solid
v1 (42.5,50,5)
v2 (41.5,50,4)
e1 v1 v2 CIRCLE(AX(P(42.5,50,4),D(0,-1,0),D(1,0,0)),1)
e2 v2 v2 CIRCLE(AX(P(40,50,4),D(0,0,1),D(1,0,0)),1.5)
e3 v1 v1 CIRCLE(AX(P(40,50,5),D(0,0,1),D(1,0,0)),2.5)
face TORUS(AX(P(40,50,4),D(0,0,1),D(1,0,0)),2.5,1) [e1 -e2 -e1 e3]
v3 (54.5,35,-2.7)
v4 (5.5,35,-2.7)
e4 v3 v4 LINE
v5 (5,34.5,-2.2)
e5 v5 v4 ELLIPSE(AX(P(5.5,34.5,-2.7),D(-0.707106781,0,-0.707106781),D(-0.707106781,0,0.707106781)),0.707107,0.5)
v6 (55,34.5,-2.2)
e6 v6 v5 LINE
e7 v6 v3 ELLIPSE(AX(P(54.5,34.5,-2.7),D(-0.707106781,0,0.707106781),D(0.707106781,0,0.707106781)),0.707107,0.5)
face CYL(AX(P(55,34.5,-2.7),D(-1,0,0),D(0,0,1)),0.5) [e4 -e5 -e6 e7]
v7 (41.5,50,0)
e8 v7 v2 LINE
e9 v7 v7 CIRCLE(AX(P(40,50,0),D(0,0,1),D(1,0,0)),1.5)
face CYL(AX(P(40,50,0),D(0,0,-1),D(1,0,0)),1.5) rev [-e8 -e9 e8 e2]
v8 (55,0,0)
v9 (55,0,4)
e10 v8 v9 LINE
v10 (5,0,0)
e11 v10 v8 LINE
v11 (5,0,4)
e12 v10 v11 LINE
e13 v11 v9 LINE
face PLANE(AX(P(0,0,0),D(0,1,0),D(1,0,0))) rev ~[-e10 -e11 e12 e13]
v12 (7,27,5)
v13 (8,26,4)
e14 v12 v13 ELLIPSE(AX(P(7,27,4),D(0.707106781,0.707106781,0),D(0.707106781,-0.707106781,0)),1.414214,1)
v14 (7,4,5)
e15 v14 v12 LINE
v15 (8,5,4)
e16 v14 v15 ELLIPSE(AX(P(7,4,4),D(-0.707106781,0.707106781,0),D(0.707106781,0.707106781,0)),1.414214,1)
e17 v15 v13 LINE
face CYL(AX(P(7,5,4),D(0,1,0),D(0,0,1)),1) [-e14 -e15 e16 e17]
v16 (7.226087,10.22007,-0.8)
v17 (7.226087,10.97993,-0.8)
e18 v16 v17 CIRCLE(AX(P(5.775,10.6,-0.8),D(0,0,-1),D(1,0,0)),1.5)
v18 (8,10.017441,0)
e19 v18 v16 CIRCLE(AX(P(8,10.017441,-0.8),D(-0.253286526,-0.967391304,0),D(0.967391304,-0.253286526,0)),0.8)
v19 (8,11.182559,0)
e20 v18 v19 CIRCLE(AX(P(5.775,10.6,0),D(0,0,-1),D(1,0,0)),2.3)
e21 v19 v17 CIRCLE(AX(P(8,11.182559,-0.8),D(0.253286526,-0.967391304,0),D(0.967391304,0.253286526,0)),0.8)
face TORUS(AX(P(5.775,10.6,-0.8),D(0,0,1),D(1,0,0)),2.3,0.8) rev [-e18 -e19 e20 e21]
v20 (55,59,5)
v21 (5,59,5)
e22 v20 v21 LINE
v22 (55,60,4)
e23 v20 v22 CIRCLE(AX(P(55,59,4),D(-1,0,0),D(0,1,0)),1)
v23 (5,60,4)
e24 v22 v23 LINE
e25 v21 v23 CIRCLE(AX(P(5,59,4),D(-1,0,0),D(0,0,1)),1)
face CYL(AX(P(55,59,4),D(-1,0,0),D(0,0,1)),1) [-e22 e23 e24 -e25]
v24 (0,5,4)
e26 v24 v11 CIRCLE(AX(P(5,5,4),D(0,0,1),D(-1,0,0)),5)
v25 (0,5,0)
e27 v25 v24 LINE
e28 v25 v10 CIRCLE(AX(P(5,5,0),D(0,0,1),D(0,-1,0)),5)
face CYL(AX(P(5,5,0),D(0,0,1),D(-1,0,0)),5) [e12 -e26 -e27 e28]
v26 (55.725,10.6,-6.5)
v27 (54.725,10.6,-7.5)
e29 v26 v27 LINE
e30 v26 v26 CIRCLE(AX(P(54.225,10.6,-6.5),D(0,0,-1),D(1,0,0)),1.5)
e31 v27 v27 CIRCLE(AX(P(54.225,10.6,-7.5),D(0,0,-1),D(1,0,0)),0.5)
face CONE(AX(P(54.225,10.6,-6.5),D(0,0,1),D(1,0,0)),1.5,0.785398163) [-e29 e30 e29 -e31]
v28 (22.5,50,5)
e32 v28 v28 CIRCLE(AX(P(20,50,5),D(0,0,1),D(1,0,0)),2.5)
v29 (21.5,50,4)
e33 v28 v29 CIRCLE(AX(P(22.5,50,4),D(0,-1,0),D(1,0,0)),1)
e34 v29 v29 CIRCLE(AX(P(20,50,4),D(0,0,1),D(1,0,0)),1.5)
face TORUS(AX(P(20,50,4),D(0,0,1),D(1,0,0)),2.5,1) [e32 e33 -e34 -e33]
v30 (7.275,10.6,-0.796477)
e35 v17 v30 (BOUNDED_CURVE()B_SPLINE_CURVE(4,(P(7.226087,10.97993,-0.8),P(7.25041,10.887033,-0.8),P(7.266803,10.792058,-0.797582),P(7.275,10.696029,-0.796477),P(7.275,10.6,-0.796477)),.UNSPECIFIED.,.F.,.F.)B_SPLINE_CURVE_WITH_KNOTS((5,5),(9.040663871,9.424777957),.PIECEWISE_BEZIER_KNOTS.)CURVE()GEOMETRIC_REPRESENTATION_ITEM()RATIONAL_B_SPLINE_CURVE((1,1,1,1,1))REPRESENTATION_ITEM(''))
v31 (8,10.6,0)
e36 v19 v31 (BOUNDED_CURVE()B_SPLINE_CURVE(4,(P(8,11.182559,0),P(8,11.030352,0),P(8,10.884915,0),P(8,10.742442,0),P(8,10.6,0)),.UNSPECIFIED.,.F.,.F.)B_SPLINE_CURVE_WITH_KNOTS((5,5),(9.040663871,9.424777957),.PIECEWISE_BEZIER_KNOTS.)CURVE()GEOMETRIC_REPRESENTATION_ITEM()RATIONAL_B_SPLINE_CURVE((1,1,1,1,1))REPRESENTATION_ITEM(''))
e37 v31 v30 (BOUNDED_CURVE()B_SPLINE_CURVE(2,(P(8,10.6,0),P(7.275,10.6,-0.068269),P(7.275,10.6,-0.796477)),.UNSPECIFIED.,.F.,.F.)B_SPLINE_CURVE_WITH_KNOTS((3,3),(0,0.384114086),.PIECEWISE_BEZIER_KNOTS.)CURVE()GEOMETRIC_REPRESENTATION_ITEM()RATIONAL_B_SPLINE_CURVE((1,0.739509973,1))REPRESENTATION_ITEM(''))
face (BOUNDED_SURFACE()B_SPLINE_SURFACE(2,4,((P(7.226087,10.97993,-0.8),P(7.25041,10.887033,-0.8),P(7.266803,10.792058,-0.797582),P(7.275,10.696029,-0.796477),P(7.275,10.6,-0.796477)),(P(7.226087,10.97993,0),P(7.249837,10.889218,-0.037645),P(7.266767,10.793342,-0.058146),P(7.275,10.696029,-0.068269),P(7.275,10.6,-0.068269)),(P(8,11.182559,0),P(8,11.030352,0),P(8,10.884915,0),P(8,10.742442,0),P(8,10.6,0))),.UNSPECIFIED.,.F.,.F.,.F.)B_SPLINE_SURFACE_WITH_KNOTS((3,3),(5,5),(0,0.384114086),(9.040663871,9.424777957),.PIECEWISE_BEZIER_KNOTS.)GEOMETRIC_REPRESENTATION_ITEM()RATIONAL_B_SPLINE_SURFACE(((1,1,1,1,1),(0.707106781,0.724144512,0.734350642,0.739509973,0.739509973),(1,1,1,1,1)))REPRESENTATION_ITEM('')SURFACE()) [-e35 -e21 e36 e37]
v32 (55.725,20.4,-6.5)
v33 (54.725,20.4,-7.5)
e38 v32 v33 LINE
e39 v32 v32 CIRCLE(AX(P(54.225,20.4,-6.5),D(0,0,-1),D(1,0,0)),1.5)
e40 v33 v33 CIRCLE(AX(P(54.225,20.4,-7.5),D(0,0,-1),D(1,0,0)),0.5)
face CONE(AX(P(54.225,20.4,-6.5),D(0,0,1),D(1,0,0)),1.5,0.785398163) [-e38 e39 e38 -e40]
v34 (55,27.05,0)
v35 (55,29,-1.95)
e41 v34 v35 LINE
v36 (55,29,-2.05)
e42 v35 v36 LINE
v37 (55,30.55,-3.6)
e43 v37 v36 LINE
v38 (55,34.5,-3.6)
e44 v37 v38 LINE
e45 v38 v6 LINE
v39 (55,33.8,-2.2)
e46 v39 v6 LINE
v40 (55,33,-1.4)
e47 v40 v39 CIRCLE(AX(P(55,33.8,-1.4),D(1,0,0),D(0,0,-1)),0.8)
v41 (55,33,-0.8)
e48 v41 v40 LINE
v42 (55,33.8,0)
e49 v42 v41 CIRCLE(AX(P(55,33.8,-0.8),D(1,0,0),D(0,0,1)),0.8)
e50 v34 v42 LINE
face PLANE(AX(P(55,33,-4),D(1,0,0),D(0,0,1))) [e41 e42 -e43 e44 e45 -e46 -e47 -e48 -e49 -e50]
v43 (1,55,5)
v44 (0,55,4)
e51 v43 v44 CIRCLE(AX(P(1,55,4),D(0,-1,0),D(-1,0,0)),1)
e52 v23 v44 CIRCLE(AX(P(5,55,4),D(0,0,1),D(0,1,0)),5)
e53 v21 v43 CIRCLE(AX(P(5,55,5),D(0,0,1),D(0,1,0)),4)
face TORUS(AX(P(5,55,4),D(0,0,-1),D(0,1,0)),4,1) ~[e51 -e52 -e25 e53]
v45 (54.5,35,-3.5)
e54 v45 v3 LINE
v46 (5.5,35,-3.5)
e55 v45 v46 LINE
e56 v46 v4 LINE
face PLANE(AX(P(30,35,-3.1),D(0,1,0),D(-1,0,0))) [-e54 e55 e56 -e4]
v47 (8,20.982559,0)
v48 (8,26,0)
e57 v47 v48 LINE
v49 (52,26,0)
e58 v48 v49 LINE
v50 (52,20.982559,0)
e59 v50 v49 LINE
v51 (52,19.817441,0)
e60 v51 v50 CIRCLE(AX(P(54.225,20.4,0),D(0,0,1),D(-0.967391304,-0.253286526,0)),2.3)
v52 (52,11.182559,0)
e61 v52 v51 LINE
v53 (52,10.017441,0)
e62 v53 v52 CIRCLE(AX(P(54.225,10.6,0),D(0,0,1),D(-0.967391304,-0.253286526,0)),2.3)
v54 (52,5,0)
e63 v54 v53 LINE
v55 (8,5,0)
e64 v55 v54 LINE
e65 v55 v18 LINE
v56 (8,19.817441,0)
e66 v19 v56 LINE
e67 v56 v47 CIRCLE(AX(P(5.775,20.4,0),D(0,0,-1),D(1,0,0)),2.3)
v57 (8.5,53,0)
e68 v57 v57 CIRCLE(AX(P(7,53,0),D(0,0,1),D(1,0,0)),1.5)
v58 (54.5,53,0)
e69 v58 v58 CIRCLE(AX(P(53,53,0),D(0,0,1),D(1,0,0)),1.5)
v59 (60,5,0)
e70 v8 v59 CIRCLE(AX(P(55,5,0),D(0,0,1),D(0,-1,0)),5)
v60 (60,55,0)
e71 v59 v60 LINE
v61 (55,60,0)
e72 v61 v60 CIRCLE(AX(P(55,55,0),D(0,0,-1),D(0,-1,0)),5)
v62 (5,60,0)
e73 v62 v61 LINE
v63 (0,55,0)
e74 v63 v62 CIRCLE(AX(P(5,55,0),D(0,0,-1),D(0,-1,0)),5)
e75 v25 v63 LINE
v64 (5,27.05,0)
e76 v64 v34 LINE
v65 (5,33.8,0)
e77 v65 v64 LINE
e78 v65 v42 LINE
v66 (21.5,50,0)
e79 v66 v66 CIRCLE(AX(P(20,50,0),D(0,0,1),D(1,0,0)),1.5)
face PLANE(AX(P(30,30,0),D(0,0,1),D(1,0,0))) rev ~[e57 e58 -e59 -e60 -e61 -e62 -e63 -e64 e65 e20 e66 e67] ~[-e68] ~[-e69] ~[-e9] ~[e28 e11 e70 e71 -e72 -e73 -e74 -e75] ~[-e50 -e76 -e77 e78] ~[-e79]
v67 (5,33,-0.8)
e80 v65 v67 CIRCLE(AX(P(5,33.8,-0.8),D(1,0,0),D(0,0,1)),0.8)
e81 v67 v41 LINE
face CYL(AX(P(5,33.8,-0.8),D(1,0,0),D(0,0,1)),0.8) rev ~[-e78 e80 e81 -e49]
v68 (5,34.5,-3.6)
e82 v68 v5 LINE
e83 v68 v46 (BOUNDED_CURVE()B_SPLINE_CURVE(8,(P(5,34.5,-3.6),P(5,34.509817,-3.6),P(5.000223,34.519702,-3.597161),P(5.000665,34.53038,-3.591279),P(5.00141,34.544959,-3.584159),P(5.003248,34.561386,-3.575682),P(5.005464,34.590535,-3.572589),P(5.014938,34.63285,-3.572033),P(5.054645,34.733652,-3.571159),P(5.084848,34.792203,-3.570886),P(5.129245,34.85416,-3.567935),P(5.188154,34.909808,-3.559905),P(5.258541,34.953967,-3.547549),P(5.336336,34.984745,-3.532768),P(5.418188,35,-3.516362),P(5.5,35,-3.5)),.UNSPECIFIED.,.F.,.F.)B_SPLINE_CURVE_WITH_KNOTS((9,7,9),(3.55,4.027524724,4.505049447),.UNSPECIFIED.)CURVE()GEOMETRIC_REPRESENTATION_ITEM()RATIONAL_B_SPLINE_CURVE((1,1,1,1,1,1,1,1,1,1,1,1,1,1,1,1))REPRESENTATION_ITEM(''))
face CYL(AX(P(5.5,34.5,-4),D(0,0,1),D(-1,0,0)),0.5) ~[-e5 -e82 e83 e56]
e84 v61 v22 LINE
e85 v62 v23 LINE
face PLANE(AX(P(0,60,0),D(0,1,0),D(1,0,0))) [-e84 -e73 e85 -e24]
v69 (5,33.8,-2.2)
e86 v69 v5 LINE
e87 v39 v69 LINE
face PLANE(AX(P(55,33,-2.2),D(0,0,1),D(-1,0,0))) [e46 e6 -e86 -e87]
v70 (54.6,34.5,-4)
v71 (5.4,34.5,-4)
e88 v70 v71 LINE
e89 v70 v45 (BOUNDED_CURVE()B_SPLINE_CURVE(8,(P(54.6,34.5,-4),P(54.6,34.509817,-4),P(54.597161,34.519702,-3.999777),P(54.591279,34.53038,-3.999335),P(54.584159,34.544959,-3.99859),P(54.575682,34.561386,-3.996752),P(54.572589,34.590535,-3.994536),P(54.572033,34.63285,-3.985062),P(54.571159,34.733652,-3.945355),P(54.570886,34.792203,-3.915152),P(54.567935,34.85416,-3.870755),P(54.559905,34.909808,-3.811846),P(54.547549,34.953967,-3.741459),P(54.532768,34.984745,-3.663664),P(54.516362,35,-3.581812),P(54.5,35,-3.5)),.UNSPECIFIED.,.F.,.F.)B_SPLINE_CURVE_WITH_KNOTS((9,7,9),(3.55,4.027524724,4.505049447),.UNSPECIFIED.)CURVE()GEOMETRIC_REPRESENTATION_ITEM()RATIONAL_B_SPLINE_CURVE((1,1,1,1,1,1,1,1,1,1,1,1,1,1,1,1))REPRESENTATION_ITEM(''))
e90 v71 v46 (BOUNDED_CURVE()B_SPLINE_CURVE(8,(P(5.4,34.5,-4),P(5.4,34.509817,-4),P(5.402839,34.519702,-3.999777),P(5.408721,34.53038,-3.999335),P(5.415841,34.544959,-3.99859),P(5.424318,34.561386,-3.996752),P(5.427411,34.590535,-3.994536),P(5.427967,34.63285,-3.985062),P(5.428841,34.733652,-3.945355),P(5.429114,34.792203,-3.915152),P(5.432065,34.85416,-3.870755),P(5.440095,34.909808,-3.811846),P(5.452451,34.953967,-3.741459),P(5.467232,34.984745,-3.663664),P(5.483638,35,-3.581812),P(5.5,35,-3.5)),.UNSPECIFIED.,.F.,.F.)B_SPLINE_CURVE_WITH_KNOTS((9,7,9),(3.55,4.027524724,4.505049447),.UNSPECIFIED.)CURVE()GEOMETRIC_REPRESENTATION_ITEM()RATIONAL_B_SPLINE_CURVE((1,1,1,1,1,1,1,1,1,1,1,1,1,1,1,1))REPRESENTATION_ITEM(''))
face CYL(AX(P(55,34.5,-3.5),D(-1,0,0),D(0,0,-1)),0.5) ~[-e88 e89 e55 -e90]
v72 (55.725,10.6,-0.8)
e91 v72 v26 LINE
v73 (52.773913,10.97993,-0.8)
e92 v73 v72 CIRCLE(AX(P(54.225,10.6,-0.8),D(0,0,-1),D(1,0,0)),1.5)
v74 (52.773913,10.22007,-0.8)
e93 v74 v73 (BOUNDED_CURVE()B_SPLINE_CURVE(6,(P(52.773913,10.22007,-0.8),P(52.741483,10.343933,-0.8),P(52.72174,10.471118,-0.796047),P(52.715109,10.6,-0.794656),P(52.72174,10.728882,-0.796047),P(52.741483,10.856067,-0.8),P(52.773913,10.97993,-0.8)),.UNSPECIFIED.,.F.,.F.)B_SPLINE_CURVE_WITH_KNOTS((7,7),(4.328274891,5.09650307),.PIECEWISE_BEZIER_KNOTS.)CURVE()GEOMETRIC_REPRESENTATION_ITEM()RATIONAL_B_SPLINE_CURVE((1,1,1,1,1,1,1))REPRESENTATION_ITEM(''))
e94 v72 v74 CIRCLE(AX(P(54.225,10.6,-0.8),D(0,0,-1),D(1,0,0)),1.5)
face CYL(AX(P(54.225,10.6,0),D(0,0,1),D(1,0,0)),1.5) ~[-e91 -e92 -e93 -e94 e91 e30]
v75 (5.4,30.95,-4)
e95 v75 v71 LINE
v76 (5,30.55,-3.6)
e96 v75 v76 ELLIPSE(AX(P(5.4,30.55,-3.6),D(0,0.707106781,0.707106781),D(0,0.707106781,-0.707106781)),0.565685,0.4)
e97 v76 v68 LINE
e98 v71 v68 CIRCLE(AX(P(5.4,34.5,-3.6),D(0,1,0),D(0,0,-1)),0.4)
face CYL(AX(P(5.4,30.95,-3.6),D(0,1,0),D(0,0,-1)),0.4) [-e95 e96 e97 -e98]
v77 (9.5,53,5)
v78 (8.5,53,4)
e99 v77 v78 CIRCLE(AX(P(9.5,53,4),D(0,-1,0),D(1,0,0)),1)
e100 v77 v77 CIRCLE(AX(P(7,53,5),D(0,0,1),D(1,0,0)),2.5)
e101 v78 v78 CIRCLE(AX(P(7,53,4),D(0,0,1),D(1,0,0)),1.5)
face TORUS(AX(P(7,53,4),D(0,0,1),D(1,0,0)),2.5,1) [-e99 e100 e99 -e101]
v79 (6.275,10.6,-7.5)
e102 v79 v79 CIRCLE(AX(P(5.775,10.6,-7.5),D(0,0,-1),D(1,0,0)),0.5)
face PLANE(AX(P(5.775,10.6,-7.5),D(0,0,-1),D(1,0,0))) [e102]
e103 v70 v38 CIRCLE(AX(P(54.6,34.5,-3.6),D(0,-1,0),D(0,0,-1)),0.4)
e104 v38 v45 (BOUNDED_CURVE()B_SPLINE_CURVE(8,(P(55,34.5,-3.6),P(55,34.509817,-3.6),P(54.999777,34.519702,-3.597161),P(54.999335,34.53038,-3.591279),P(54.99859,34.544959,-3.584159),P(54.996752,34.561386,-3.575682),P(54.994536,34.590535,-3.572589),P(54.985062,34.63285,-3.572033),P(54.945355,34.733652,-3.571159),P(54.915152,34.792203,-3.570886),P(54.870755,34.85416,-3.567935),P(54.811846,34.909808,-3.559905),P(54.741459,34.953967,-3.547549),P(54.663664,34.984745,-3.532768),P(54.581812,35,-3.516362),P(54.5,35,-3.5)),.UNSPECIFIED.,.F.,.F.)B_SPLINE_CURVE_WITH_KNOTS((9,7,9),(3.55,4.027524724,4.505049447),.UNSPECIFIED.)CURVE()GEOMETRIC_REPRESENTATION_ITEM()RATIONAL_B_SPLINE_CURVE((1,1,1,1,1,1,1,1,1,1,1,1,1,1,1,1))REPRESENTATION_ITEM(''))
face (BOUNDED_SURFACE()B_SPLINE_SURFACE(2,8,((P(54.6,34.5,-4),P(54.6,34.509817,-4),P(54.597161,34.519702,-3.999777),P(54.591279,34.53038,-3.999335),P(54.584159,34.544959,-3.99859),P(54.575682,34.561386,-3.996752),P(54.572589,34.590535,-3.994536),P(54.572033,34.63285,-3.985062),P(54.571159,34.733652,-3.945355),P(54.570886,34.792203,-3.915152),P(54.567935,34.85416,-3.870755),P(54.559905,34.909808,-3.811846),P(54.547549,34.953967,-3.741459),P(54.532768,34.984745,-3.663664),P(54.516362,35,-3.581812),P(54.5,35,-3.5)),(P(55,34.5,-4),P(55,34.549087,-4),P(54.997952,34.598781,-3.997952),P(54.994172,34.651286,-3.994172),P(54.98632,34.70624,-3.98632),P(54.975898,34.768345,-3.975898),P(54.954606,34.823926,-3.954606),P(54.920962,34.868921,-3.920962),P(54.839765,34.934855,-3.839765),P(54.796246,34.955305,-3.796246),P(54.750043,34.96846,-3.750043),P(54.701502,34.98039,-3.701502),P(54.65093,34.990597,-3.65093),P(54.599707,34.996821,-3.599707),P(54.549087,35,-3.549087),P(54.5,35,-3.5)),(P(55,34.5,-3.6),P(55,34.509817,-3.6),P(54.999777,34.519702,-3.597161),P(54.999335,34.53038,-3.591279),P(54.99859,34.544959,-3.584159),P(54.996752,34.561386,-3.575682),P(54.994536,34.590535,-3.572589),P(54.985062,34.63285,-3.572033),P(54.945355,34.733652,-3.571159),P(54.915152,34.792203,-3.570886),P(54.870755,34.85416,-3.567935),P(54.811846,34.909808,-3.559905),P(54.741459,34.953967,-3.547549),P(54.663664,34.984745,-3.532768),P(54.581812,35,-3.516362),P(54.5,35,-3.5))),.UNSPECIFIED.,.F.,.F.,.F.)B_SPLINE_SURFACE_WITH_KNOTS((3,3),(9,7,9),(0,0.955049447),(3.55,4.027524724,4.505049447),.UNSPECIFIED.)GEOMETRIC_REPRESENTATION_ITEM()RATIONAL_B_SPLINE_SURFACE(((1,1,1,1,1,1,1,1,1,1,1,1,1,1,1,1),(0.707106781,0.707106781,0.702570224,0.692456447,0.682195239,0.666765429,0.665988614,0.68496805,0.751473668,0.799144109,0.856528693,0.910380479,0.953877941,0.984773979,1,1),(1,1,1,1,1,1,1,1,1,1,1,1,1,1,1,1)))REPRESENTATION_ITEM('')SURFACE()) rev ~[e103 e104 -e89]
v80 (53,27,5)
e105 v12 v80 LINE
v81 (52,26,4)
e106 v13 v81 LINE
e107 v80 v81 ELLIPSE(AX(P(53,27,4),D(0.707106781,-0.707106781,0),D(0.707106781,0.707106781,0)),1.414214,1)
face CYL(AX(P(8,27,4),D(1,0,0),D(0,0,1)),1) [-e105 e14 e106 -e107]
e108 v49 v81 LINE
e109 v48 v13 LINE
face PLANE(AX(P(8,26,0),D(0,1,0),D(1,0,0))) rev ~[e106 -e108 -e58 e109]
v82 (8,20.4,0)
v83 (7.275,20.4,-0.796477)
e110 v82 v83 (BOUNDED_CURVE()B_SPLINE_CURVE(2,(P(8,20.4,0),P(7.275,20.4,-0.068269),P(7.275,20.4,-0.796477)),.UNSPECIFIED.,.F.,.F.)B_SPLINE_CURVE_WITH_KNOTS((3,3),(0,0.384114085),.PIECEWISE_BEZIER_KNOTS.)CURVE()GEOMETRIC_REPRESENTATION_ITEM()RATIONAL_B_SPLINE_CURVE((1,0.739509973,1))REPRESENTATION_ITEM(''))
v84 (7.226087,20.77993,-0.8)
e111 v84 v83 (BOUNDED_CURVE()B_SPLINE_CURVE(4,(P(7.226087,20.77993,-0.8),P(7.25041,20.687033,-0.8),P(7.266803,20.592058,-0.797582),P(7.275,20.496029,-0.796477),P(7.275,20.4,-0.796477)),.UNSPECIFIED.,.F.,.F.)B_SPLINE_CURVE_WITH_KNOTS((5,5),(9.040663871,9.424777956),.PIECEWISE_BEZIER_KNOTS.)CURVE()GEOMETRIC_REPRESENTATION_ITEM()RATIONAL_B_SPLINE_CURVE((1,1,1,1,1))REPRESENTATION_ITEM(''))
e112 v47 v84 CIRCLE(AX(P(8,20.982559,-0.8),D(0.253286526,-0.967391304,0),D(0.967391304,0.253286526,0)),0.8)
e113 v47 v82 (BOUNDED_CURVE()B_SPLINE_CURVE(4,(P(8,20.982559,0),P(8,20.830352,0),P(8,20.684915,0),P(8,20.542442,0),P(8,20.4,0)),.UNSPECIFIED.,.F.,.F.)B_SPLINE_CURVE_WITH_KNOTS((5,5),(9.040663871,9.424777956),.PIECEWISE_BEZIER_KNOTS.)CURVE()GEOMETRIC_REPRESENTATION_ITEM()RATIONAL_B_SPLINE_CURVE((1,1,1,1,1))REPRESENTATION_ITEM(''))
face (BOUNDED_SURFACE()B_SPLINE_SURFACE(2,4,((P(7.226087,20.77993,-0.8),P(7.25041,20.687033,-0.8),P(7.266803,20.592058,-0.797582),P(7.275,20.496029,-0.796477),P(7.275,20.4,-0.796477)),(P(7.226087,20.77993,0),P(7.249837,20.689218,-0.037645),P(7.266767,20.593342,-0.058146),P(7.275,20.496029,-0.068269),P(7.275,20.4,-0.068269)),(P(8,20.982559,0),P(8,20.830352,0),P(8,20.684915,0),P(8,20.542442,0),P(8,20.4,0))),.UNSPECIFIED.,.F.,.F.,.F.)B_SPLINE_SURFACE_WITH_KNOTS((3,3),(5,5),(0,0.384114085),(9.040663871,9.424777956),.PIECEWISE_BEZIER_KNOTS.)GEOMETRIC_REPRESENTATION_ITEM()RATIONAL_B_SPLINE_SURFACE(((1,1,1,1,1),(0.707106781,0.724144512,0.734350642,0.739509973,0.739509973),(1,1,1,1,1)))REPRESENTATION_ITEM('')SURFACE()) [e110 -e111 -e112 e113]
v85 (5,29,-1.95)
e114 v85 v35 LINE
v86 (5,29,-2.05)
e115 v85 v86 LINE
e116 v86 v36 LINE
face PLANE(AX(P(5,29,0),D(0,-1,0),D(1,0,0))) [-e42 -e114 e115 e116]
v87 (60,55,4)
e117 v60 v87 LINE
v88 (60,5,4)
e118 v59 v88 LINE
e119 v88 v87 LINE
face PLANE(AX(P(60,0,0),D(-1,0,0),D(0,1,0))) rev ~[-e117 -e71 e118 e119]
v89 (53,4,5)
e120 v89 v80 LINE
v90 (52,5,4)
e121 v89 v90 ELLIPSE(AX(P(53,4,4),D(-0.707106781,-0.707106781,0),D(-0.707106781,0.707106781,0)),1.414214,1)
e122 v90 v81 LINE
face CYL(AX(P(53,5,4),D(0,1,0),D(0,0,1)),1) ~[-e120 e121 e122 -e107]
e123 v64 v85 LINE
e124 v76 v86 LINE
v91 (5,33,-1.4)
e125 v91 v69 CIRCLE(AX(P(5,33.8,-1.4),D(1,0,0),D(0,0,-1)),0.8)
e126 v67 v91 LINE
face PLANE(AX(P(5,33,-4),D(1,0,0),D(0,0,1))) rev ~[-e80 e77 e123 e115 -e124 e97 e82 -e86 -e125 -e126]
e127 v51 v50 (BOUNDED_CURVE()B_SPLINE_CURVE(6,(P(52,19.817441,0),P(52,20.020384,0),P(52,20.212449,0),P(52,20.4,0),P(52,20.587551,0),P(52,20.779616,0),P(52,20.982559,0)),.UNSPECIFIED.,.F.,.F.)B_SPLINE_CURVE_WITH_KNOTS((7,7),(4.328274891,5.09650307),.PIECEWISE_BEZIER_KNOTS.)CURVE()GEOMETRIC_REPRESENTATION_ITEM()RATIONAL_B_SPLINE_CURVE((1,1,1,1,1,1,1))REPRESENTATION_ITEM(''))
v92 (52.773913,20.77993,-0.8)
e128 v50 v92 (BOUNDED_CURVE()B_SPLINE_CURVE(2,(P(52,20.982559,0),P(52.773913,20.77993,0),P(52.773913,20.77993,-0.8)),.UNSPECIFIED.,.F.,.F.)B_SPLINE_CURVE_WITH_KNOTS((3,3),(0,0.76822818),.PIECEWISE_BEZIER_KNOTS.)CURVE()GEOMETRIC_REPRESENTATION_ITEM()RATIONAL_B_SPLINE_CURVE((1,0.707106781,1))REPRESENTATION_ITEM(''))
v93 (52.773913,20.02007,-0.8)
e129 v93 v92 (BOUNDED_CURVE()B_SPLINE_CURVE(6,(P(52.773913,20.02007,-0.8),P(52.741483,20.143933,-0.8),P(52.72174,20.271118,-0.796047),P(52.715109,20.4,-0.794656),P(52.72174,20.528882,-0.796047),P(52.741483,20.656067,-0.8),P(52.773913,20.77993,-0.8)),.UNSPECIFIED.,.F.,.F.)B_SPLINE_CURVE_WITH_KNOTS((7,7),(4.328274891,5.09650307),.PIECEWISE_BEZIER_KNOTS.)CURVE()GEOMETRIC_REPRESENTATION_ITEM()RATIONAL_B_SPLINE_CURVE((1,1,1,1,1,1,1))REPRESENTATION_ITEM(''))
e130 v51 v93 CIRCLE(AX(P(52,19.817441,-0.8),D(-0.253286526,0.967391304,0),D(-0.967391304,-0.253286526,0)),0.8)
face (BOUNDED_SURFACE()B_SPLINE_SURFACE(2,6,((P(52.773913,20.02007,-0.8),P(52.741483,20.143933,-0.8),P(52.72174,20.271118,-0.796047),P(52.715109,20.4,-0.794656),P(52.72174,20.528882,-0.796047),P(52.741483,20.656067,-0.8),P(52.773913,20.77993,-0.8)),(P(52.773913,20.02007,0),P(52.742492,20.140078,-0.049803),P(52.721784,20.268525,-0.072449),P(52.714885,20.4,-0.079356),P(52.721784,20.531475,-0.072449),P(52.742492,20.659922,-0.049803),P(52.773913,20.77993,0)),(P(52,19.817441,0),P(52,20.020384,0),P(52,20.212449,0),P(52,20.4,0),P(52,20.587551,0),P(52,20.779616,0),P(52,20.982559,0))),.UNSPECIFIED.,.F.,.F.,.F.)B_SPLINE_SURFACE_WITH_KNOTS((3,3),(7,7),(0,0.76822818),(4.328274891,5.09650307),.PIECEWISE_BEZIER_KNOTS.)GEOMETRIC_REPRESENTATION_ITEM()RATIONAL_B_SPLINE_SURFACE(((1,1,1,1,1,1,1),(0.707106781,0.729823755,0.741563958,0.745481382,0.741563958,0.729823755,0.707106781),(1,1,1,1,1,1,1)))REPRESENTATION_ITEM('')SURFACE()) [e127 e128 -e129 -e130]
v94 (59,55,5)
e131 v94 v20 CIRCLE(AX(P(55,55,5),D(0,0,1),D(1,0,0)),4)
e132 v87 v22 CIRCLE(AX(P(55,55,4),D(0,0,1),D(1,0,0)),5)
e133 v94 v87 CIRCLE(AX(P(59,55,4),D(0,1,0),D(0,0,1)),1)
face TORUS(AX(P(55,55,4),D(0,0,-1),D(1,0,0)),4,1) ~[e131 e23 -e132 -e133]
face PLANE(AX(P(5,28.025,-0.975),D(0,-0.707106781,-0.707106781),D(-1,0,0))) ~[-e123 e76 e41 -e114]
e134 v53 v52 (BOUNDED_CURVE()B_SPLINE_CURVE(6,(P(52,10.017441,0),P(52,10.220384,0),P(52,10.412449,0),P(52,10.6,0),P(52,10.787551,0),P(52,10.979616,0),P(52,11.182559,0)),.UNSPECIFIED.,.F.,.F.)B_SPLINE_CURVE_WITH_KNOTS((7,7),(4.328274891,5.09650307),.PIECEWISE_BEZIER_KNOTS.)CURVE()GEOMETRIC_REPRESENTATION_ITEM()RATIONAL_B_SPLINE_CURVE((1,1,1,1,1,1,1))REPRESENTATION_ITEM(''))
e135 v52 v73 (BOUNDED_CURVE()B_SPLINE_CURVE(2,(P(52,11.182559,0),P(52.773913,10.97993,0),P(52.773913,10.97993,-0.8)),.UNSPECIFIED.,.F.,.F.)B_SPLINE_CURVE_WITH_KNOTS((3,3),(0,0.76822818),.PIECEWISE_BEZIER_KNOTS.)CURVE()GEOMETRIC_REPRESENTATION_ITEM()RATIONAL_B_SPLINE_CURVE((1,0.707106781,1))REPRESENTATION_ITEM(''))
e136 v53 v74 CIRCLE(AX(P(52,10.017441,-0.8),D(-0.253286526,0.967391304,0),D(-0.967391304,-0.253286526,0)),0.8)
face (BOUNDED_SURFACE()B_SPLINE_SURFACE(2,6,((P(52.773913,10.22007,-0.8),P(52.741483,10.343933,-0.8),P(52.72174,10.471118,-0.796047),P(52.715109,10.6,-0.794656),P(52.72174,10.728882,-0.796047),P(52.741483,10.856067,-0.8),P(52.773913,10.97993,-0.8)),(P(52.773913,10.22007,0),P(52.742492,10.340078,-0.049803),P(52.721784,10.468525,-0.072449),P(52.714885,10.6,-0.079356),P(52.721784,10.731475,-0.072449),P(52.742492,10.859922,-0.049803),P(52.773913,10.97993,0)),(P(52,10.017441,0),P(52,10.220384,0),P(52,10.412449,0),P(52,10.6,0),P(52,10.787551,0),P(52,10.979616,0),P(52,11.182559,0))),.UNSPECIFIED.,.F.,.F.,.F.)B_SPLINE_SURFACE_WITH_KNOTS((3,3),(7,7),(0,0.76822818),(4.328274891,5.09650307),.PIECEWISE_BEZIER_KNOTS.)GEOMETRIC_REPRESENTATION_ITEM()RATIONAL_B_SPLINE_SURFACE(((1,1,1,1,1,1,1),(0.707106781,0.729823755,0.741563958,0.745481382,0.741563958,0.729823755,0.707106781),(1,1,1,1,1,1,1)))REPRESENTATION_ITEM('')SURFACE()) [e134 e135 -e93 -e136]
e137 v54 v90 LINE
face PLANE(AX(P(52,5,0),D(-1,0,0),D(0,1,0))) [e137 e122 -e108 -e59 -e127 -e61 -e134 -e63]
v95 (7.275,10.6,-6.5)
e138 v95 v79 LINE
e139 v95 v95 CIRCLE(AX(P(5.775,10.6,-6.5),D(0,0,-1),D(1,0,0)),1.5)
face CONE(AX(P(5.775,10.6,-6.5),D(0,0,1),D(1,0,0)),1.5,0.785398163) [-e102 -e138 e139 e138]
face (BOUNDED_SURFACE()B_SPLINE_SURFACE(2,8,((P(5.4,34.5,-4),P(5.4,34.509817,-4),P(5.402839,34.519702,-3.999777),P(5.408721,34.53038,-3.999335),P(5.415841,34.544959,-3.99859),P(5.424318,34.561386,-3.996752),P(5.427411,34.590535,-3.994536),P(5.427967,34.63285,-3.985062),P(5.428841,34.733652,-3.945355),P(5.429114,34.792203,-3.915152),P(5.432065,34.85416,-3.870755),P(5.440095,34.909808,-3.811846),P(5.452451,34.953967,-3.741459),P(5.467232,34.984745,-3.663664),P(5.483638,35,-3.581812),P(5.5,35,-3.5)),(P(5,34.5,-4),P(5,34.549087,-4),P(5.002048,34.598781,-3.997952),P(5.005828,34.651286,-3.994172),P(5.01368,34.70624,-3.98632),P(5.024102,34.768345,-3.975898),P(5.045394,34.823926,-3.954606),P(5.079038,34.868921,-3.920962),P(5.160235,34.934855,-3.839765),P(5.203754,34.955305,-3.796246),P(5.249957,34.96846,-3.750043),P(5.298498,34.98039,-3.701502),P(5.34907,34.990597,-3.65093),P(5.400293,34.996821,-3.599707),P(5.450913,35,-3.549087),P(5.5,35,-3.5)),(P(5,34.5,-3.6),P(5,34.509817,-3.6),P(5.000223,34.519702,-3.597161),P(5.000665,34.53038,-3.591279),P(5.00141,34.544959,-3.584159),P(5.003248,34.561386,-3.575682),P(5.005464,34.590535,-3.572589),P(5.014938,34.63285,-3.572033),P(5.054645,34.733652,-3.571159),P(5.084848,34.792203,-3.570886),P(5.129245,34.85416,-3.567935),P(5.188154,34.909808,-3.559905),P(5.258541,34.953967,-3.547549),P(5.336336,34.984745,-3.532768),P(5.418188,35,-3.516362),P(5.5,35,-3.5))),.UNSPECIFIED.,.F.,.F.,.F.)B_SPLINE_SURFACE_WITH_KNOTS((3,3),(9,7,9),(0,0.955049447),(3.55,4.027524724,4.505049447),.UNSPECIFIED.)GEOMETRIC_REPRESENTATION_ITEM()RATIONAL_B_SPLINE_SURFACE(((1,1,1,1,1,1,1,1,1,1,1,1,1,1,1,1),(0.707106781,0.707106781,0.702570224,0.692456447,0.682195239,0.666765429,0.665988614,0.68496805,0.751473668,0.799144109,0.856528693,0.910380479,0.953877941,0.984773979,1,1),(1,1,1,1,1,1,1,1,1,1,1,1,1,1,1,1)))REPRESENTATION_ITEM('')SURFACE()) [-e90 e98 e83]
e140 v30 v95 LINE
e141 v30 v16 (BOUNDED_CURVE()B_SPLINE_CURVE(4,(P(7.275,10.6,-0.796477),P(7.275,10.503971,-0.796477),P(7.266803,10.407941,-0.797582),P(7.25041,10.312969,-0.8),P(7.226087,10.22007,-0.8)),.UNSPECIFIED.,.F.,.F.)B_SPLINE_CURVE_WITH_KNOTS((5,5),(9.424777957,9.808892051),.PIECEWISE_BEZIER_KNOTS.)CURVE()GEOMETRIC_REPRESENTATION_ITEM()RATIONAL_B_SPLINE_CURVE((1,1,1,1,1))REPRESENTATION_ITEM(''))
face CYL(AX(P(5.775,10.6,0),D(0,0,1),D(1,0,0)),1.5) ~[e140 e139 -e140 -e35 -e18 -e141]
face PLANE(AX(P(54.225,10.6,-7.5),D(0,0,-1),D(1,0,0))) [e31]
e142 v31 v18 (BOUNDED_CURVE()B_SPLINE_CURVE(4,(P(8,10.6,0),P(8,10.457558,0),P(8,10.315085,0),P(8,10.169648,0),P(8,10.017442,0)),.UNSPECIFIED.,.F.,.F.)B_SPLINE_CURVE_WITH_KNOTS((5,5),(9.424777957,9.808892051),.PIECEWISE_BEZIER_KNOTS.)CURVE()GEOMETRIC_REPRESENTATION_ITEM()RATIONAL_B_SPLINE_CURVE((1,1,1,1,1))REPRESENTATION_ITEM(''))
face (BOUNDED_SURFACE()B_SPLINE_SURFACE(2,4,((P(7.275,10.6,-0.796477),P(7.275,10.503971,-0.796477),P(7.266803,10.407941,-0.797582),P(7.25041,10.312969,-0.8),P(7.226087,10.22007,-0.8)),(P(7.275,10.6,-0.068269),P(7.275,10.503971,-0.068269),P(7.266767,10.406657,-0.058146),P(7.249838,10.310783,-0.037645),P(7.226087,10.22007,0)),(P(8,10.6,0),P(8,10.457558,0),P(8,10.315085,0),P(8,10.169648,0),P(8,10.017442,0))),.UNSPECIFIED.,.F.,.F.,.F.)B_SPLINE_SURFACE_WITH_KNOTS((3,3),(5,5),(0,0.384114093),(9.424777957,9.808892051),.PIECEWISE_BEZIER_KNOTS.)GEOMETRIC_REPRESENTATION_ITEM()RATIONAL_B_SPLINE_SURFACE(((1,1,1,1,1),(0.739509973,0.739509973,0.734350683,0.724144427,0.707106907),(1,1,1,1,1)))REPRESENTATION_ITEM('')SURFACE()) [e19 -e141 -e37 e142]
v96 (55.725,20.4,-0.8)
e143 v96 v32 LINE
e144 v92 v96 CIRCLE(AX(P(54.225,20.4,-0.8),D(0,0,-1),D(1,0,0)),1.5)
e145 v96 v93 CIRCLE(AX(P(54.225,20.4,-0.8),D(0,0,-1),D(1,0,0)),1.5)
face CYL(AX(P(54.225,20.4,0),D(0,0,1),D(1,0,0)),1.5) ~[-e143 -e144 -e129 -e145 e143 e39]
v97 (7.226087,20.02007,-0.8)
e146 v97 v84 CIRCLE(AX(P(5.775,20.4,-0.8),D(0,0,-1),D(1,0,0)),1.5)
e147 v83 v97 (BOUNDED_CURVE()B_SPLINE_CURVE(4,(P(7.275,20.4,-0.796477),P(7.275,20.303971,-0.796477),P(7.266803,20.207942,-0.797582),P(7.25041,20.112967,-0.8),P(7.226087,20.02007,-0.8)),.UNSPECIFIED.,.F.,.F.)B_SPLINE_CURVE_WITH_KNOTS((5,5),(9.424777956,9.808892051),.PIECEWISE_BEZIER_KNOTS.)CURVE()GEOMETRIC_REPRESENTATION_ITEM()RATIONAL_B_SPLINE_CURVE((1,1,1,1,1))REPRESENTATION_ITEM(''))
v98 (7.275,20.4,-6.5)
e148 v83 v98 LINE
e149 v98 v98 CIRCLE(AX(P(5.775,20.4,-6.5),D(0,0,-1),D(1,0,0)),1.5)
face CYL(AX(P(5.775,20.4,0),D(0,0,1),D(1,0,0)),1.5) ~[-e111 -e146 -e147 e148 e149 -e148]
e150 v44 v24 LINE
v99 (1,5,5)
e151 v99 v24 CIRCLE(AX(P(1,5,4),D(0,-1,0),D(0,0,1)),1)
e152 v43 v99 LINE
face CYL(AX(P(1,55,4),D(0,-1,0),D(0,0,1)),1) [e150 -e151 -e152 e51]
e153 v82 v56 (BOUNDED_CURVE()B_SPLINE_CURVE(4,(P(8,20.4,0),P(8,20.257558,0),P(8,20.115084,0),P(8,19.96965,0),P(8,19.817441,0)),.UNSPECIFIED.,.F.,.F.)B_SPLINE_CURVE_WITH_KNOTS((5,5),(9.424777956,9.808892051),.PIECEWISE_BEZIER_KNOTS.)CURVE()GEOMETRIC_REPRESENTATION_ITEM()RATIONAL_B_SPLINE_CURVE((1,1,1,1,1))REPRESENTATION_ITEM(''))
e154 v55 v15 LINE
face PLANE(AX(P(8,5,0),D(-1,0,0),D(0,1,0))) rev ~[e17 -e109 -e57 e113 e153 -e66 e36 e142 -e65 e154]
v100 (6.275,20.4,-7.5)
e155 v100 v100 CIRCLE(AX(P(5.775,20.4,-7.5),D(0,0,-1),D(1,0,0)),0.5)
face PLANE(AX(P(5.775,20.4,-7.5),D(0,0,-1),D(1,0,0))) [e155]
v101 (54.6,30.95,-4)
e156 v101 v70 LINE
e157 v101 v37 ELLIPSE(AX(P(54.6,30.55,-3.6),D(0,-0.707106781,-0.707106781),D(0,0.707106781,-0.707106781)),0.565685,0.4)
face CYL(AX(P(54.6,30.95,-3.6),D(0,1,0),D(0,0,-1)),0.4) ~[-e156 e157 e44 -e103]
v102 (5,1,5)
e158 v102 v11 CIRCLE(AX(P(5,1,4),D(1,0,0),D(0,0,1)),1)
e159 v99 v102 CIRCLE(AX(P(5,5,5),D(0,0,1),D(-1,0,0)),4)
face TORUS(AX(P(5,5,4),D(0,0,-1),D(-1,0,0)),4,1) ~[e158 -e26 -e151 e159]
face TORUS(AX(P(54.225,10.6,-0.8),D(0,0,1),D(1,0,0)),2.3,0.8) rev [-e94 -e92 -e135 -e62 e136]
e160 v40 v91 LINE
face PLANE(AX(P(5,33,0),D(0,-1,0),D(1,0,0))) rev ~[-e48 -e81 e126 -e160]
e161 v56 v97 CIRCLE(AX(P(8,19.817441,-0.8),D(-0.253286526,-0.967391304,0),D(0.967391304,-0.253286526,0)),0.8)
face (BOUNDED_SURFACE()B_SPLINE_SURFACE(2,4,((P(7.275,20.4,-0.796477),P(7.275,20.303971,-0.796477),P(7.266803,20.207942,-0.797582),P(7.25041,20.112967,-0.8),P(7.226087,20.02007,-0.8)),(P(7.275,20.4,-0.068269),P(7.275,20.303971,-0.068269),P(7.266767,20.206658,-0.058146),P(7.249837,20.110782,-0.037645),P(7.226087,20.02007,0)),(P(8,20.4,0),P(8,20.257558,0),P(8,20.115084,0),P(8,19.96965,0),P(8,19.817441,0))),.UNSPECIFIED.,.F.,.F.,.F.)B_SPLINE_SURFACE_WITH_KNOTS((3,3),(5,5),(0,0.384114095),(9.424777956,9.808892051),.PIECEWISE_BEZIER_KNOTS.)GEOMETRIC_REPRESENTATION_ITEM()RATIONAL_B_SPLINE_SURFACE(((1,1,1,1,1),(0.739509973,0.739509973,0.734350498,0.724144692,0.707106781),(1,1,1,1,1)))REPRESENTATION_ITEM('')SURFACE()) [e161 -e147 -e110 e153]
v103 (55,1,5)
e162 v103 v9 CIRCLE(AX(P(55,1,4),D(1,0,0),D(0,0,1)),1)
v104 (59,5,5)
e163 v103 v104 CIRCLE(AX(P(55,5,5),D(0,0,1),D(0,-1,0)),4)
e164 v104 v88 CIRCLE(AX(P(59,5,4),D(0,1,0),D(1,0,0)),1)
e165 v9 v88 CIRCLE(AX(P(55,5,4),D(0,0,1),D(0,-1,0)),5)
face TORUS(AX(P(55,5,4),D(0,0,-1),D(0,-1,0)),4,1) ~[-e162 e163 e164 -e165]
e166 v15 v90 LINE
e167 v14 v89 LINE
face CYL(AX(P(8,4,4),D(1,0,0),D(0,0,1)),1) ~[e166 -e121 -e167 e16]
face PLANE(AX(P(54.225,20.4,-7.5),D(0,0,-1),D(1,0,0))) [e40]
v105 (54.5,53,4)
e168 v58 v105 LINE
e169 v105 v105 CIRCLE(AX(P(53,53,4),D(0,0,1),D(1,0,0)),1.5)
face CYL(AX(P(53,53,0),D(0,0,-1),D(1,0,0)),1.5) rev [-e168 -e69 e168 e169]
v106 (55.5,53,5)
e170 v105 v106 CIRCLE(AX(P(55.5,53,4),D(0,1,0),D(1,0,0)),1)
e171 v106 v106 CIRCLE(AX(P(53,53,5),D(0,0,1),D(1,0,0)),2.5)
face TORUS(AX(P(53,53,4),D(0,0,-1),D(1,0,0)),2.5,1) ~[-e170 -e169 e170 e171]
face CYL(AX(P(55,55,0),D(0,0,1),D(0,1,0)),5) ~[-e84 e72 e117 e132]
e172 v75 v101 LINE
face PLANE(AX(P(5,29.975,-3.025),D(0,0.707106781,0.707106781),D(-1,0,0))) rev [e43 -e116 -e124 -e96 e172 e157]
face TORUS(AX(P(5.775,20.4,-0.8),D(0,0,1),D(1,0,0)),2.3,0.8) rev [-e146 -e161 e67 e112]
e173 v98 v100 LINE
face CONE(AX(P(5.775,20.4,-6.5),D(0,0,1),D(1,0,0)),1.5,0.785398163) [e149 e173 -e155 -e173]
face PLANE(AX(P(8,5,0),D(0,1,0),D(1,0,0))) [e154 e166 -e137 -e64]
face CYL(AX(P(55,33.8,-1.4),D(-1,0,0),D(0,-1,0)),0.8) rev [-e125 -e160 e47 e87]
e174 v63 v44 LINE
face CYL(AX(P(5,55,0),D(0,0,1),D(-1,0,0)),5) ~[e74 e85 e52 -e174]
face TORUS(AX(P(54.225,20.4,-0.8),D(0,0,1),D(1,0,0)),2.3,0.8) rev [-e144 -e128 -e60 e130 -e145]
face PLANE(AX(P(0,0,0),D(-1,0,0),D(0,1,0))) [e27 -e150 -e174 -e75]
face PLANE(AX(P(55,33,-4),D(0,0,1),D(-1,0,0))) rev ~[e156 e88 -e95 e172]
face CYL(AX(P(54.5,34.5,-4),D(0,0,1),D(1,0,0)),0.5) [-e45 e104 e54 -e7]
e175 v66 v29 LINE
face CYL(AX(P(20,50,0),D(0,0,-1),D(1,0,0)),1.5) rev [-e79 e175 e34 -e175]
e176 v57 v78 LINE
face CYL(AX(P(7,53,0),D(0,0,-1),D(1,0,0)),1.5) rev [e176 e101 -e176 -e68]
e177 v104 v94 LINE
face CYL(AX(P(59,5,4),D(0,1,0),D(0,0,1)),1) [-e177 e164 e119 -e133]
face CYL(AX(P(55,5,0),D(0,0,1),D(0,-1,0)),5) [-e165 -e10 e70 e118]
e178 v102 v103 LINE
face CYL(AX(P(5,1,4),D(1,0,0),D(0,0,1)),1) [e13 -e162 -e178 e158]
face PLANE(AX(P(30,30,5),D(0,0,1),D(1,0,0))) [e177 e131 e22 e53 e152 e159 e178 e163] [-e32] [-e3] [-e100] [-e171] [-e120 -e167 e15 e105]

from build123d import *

# Parameters (mm, degrees)
SKETCH_W        = 60
SKETCH_H        = 60
SKETCH_R        = 1.5
SKETCH_W_2      = 44
SKETCH_H_2      = 21
PAD_DEPTH       = 5
SKETCH001_R     = 1.5
PAD001_DEPTH    = 7.5
CHAMFER_SIZE    = 1
FILLET_R        = 5
SKETCH002_W     = 50
SKETCH002_H     = 4
PAD002_DEPTH    = 4
SKETCH003_W     = 50
SKETCH003_H     = 1.8
PAD003_DEPTH    = 2
FILLET001_R     = 0.5
CHAMFER001_SIZE = 1.95
FILLET002_R     = 1
FILLET003_R     = 0.8
FILLET004_R     = 0.8
FILLET005_R     = 0.4


with BuildPart() as part:
    # Sketch → Pad (new body)
    with BuildSketch(Plane.XY):
        with Locations((30, 30)):
            Rectangle(SKETCH_W, SKETCH_H)
        with Locations((7, 53)):
            Circle(SKETCH_R, mode=Mode.SUBTRACT)
        with Locations((40, 50)):
            Circle(SKETCH_R, mode=Mode.SUBTRACT)
        with Locations((20, 50)):
            Circle(SKETCH_R, mode=Mode.SUBTRACT)
        with Locations((53, 53)):
            Circle(SKETCH_R, mode=Mode.SUBTRACT)
        with Locations((30, 15.5)):
            Rectangle(SKETCH_W_2, SKETCH_H_2, mode=Mode.SUBTRACT)
    extrude(amount=PAD_DEPTH)

    # Sketch001 (on Face13 of Pad) → Pad001 (join)
    with BuildSketch(Plane(origin=(0, 0, 0), x_dir=(1, 0, 0), z_dir=(0, 0, -1))):
        with Locations((5.775, -10.6)):
            Circle(SKETCH001_R)
        with Locations((5.775, -20.4)):
            Circle(SKETCH001_R)
        with Locations((54.225, -10.6)):
            Circle(SKETCH001_R)
        with Locations((54.225, -20.4)):
            Circle(SKETCH001_R)
    extrude(amount=PAD001_DEPTH)

    # Chamfer
    chamfer_edges = [part.edges().sort_by_distance(p)[0] for p in [
        (4.275, 10.6, -7.5),
        (4.275, 20.4, -7.5),
        (52.725, 20.4, -7.5),
        (52.725, 10.6, -7.5),
    ]]
    chamfer(chamfer_edges, length=CHAMFER_SIZE)

    # Fillet
    fillet_edges = [part.edges().sort_by_distance(p)[0] for p in [
        (0, 0, 2.5),
        (60, 0, 2.5),
        (0, 60, 2.5),
        (60, 60, 2.5),
    ]]
    fillet(fillet_edges, radius=FILLET_R)

    # Sketch002 (on Face1 of Fillet) → Pad002 (join)
    with BuildSketch(Plane(origin=(0, 0, 0), x_dir=(1, 0, 0), z_dir=(0, 0, -1))):
        with Locations((30, -31)):
            Rectangle(SKETCH002_W, SKETCH002_H)
    extrude(amount=PAD002_DEPTH)

    # Sketch003 (on Face23 of Pad002) → Pad003 (join)
    with BuildSketch(Plane(origin=(0, 33, 0), x_dir=(-1, 0, 0), z_dir=(0, 1, 0))):
        with Locations((-30, -3.1)):
            Rectangle(SKETCH003_W, SKETCH003_H)
    extrude(amount=PAD003_DEPTH)

    # Fillet001
    fillet001_edges = [part.edges().sort_by_distance(p)[0] for p in [
        (30, 35, -4),
        (55, 35, -3.1),
        (30, 35, -2.2),
        (5, 35, -3.1),
    ]]
    fillet(fillet001_edges, radius=FILLET001_R)

    # Chamfer001
    chamfer001_edges = [part.edges().sort_by_distance(p)[0] for p in [
        (30, 29, -4),
        (30, 29, 0),
    ]]
    chamfer(chamfer001_edges, length=CHAMFER001_SIZE)

    # Fillet002
    fillet002_edges = [part.edges().sort_by_distance(p)[0] for p in [
        (30, 0, 5),
        (1.464466, 1.464466, 5),
        (58.535534, 1.464466, 5),
        (0, 30, 5),
        (60, 30, 5),
        (1.464466, 58.535534, 5),
        (58.535534, 58.535534, 5),
        (30, 60, 5),
        (30, 26, 5),
        (52, 15.5, 5),
        (30, 5, 5),
        (8, 15.5, 5),
        (51.5, 53, 5),
        (18.5, 50, 5),
        (38.5, 50, 5),
        (5.5, 53, 5),
    ]]
    fillet(fillet002_edges, radius=FILLET002_R)

    # Fillet003
    fillet003_edges = [part.edges().sort_by_distance(p)[0] for p in [
        (30, 33, -2.2),
        (30, 33, 0),
    ]]
    fillet(fillet003_edges, radius=FILLET003_R)

    # Fillet004
    fillet004_edges = [part.edges().sort_by_distance(p)[0] for p in [
        (52.725, 20.4, 0),
        (52.725, 10.6, 0),
        (4.275, 20.4, 0),
        (4.275, 10.6, 0),
    ]]
    fillet(fillet004_edges, radius=FILLET004_R)

    # Fillet005
    fillet005_edges = [part.edges().sort_by_distance(p)[0] for p in [
        (55, 33.75, -4),
        (55, 31.975, -4),
        (5, 31.975, -4),
        (5, 33.75, -4),
    ]]
    fillet(fillet005_edges, radius=FILLET005_R)


solid = part.part
